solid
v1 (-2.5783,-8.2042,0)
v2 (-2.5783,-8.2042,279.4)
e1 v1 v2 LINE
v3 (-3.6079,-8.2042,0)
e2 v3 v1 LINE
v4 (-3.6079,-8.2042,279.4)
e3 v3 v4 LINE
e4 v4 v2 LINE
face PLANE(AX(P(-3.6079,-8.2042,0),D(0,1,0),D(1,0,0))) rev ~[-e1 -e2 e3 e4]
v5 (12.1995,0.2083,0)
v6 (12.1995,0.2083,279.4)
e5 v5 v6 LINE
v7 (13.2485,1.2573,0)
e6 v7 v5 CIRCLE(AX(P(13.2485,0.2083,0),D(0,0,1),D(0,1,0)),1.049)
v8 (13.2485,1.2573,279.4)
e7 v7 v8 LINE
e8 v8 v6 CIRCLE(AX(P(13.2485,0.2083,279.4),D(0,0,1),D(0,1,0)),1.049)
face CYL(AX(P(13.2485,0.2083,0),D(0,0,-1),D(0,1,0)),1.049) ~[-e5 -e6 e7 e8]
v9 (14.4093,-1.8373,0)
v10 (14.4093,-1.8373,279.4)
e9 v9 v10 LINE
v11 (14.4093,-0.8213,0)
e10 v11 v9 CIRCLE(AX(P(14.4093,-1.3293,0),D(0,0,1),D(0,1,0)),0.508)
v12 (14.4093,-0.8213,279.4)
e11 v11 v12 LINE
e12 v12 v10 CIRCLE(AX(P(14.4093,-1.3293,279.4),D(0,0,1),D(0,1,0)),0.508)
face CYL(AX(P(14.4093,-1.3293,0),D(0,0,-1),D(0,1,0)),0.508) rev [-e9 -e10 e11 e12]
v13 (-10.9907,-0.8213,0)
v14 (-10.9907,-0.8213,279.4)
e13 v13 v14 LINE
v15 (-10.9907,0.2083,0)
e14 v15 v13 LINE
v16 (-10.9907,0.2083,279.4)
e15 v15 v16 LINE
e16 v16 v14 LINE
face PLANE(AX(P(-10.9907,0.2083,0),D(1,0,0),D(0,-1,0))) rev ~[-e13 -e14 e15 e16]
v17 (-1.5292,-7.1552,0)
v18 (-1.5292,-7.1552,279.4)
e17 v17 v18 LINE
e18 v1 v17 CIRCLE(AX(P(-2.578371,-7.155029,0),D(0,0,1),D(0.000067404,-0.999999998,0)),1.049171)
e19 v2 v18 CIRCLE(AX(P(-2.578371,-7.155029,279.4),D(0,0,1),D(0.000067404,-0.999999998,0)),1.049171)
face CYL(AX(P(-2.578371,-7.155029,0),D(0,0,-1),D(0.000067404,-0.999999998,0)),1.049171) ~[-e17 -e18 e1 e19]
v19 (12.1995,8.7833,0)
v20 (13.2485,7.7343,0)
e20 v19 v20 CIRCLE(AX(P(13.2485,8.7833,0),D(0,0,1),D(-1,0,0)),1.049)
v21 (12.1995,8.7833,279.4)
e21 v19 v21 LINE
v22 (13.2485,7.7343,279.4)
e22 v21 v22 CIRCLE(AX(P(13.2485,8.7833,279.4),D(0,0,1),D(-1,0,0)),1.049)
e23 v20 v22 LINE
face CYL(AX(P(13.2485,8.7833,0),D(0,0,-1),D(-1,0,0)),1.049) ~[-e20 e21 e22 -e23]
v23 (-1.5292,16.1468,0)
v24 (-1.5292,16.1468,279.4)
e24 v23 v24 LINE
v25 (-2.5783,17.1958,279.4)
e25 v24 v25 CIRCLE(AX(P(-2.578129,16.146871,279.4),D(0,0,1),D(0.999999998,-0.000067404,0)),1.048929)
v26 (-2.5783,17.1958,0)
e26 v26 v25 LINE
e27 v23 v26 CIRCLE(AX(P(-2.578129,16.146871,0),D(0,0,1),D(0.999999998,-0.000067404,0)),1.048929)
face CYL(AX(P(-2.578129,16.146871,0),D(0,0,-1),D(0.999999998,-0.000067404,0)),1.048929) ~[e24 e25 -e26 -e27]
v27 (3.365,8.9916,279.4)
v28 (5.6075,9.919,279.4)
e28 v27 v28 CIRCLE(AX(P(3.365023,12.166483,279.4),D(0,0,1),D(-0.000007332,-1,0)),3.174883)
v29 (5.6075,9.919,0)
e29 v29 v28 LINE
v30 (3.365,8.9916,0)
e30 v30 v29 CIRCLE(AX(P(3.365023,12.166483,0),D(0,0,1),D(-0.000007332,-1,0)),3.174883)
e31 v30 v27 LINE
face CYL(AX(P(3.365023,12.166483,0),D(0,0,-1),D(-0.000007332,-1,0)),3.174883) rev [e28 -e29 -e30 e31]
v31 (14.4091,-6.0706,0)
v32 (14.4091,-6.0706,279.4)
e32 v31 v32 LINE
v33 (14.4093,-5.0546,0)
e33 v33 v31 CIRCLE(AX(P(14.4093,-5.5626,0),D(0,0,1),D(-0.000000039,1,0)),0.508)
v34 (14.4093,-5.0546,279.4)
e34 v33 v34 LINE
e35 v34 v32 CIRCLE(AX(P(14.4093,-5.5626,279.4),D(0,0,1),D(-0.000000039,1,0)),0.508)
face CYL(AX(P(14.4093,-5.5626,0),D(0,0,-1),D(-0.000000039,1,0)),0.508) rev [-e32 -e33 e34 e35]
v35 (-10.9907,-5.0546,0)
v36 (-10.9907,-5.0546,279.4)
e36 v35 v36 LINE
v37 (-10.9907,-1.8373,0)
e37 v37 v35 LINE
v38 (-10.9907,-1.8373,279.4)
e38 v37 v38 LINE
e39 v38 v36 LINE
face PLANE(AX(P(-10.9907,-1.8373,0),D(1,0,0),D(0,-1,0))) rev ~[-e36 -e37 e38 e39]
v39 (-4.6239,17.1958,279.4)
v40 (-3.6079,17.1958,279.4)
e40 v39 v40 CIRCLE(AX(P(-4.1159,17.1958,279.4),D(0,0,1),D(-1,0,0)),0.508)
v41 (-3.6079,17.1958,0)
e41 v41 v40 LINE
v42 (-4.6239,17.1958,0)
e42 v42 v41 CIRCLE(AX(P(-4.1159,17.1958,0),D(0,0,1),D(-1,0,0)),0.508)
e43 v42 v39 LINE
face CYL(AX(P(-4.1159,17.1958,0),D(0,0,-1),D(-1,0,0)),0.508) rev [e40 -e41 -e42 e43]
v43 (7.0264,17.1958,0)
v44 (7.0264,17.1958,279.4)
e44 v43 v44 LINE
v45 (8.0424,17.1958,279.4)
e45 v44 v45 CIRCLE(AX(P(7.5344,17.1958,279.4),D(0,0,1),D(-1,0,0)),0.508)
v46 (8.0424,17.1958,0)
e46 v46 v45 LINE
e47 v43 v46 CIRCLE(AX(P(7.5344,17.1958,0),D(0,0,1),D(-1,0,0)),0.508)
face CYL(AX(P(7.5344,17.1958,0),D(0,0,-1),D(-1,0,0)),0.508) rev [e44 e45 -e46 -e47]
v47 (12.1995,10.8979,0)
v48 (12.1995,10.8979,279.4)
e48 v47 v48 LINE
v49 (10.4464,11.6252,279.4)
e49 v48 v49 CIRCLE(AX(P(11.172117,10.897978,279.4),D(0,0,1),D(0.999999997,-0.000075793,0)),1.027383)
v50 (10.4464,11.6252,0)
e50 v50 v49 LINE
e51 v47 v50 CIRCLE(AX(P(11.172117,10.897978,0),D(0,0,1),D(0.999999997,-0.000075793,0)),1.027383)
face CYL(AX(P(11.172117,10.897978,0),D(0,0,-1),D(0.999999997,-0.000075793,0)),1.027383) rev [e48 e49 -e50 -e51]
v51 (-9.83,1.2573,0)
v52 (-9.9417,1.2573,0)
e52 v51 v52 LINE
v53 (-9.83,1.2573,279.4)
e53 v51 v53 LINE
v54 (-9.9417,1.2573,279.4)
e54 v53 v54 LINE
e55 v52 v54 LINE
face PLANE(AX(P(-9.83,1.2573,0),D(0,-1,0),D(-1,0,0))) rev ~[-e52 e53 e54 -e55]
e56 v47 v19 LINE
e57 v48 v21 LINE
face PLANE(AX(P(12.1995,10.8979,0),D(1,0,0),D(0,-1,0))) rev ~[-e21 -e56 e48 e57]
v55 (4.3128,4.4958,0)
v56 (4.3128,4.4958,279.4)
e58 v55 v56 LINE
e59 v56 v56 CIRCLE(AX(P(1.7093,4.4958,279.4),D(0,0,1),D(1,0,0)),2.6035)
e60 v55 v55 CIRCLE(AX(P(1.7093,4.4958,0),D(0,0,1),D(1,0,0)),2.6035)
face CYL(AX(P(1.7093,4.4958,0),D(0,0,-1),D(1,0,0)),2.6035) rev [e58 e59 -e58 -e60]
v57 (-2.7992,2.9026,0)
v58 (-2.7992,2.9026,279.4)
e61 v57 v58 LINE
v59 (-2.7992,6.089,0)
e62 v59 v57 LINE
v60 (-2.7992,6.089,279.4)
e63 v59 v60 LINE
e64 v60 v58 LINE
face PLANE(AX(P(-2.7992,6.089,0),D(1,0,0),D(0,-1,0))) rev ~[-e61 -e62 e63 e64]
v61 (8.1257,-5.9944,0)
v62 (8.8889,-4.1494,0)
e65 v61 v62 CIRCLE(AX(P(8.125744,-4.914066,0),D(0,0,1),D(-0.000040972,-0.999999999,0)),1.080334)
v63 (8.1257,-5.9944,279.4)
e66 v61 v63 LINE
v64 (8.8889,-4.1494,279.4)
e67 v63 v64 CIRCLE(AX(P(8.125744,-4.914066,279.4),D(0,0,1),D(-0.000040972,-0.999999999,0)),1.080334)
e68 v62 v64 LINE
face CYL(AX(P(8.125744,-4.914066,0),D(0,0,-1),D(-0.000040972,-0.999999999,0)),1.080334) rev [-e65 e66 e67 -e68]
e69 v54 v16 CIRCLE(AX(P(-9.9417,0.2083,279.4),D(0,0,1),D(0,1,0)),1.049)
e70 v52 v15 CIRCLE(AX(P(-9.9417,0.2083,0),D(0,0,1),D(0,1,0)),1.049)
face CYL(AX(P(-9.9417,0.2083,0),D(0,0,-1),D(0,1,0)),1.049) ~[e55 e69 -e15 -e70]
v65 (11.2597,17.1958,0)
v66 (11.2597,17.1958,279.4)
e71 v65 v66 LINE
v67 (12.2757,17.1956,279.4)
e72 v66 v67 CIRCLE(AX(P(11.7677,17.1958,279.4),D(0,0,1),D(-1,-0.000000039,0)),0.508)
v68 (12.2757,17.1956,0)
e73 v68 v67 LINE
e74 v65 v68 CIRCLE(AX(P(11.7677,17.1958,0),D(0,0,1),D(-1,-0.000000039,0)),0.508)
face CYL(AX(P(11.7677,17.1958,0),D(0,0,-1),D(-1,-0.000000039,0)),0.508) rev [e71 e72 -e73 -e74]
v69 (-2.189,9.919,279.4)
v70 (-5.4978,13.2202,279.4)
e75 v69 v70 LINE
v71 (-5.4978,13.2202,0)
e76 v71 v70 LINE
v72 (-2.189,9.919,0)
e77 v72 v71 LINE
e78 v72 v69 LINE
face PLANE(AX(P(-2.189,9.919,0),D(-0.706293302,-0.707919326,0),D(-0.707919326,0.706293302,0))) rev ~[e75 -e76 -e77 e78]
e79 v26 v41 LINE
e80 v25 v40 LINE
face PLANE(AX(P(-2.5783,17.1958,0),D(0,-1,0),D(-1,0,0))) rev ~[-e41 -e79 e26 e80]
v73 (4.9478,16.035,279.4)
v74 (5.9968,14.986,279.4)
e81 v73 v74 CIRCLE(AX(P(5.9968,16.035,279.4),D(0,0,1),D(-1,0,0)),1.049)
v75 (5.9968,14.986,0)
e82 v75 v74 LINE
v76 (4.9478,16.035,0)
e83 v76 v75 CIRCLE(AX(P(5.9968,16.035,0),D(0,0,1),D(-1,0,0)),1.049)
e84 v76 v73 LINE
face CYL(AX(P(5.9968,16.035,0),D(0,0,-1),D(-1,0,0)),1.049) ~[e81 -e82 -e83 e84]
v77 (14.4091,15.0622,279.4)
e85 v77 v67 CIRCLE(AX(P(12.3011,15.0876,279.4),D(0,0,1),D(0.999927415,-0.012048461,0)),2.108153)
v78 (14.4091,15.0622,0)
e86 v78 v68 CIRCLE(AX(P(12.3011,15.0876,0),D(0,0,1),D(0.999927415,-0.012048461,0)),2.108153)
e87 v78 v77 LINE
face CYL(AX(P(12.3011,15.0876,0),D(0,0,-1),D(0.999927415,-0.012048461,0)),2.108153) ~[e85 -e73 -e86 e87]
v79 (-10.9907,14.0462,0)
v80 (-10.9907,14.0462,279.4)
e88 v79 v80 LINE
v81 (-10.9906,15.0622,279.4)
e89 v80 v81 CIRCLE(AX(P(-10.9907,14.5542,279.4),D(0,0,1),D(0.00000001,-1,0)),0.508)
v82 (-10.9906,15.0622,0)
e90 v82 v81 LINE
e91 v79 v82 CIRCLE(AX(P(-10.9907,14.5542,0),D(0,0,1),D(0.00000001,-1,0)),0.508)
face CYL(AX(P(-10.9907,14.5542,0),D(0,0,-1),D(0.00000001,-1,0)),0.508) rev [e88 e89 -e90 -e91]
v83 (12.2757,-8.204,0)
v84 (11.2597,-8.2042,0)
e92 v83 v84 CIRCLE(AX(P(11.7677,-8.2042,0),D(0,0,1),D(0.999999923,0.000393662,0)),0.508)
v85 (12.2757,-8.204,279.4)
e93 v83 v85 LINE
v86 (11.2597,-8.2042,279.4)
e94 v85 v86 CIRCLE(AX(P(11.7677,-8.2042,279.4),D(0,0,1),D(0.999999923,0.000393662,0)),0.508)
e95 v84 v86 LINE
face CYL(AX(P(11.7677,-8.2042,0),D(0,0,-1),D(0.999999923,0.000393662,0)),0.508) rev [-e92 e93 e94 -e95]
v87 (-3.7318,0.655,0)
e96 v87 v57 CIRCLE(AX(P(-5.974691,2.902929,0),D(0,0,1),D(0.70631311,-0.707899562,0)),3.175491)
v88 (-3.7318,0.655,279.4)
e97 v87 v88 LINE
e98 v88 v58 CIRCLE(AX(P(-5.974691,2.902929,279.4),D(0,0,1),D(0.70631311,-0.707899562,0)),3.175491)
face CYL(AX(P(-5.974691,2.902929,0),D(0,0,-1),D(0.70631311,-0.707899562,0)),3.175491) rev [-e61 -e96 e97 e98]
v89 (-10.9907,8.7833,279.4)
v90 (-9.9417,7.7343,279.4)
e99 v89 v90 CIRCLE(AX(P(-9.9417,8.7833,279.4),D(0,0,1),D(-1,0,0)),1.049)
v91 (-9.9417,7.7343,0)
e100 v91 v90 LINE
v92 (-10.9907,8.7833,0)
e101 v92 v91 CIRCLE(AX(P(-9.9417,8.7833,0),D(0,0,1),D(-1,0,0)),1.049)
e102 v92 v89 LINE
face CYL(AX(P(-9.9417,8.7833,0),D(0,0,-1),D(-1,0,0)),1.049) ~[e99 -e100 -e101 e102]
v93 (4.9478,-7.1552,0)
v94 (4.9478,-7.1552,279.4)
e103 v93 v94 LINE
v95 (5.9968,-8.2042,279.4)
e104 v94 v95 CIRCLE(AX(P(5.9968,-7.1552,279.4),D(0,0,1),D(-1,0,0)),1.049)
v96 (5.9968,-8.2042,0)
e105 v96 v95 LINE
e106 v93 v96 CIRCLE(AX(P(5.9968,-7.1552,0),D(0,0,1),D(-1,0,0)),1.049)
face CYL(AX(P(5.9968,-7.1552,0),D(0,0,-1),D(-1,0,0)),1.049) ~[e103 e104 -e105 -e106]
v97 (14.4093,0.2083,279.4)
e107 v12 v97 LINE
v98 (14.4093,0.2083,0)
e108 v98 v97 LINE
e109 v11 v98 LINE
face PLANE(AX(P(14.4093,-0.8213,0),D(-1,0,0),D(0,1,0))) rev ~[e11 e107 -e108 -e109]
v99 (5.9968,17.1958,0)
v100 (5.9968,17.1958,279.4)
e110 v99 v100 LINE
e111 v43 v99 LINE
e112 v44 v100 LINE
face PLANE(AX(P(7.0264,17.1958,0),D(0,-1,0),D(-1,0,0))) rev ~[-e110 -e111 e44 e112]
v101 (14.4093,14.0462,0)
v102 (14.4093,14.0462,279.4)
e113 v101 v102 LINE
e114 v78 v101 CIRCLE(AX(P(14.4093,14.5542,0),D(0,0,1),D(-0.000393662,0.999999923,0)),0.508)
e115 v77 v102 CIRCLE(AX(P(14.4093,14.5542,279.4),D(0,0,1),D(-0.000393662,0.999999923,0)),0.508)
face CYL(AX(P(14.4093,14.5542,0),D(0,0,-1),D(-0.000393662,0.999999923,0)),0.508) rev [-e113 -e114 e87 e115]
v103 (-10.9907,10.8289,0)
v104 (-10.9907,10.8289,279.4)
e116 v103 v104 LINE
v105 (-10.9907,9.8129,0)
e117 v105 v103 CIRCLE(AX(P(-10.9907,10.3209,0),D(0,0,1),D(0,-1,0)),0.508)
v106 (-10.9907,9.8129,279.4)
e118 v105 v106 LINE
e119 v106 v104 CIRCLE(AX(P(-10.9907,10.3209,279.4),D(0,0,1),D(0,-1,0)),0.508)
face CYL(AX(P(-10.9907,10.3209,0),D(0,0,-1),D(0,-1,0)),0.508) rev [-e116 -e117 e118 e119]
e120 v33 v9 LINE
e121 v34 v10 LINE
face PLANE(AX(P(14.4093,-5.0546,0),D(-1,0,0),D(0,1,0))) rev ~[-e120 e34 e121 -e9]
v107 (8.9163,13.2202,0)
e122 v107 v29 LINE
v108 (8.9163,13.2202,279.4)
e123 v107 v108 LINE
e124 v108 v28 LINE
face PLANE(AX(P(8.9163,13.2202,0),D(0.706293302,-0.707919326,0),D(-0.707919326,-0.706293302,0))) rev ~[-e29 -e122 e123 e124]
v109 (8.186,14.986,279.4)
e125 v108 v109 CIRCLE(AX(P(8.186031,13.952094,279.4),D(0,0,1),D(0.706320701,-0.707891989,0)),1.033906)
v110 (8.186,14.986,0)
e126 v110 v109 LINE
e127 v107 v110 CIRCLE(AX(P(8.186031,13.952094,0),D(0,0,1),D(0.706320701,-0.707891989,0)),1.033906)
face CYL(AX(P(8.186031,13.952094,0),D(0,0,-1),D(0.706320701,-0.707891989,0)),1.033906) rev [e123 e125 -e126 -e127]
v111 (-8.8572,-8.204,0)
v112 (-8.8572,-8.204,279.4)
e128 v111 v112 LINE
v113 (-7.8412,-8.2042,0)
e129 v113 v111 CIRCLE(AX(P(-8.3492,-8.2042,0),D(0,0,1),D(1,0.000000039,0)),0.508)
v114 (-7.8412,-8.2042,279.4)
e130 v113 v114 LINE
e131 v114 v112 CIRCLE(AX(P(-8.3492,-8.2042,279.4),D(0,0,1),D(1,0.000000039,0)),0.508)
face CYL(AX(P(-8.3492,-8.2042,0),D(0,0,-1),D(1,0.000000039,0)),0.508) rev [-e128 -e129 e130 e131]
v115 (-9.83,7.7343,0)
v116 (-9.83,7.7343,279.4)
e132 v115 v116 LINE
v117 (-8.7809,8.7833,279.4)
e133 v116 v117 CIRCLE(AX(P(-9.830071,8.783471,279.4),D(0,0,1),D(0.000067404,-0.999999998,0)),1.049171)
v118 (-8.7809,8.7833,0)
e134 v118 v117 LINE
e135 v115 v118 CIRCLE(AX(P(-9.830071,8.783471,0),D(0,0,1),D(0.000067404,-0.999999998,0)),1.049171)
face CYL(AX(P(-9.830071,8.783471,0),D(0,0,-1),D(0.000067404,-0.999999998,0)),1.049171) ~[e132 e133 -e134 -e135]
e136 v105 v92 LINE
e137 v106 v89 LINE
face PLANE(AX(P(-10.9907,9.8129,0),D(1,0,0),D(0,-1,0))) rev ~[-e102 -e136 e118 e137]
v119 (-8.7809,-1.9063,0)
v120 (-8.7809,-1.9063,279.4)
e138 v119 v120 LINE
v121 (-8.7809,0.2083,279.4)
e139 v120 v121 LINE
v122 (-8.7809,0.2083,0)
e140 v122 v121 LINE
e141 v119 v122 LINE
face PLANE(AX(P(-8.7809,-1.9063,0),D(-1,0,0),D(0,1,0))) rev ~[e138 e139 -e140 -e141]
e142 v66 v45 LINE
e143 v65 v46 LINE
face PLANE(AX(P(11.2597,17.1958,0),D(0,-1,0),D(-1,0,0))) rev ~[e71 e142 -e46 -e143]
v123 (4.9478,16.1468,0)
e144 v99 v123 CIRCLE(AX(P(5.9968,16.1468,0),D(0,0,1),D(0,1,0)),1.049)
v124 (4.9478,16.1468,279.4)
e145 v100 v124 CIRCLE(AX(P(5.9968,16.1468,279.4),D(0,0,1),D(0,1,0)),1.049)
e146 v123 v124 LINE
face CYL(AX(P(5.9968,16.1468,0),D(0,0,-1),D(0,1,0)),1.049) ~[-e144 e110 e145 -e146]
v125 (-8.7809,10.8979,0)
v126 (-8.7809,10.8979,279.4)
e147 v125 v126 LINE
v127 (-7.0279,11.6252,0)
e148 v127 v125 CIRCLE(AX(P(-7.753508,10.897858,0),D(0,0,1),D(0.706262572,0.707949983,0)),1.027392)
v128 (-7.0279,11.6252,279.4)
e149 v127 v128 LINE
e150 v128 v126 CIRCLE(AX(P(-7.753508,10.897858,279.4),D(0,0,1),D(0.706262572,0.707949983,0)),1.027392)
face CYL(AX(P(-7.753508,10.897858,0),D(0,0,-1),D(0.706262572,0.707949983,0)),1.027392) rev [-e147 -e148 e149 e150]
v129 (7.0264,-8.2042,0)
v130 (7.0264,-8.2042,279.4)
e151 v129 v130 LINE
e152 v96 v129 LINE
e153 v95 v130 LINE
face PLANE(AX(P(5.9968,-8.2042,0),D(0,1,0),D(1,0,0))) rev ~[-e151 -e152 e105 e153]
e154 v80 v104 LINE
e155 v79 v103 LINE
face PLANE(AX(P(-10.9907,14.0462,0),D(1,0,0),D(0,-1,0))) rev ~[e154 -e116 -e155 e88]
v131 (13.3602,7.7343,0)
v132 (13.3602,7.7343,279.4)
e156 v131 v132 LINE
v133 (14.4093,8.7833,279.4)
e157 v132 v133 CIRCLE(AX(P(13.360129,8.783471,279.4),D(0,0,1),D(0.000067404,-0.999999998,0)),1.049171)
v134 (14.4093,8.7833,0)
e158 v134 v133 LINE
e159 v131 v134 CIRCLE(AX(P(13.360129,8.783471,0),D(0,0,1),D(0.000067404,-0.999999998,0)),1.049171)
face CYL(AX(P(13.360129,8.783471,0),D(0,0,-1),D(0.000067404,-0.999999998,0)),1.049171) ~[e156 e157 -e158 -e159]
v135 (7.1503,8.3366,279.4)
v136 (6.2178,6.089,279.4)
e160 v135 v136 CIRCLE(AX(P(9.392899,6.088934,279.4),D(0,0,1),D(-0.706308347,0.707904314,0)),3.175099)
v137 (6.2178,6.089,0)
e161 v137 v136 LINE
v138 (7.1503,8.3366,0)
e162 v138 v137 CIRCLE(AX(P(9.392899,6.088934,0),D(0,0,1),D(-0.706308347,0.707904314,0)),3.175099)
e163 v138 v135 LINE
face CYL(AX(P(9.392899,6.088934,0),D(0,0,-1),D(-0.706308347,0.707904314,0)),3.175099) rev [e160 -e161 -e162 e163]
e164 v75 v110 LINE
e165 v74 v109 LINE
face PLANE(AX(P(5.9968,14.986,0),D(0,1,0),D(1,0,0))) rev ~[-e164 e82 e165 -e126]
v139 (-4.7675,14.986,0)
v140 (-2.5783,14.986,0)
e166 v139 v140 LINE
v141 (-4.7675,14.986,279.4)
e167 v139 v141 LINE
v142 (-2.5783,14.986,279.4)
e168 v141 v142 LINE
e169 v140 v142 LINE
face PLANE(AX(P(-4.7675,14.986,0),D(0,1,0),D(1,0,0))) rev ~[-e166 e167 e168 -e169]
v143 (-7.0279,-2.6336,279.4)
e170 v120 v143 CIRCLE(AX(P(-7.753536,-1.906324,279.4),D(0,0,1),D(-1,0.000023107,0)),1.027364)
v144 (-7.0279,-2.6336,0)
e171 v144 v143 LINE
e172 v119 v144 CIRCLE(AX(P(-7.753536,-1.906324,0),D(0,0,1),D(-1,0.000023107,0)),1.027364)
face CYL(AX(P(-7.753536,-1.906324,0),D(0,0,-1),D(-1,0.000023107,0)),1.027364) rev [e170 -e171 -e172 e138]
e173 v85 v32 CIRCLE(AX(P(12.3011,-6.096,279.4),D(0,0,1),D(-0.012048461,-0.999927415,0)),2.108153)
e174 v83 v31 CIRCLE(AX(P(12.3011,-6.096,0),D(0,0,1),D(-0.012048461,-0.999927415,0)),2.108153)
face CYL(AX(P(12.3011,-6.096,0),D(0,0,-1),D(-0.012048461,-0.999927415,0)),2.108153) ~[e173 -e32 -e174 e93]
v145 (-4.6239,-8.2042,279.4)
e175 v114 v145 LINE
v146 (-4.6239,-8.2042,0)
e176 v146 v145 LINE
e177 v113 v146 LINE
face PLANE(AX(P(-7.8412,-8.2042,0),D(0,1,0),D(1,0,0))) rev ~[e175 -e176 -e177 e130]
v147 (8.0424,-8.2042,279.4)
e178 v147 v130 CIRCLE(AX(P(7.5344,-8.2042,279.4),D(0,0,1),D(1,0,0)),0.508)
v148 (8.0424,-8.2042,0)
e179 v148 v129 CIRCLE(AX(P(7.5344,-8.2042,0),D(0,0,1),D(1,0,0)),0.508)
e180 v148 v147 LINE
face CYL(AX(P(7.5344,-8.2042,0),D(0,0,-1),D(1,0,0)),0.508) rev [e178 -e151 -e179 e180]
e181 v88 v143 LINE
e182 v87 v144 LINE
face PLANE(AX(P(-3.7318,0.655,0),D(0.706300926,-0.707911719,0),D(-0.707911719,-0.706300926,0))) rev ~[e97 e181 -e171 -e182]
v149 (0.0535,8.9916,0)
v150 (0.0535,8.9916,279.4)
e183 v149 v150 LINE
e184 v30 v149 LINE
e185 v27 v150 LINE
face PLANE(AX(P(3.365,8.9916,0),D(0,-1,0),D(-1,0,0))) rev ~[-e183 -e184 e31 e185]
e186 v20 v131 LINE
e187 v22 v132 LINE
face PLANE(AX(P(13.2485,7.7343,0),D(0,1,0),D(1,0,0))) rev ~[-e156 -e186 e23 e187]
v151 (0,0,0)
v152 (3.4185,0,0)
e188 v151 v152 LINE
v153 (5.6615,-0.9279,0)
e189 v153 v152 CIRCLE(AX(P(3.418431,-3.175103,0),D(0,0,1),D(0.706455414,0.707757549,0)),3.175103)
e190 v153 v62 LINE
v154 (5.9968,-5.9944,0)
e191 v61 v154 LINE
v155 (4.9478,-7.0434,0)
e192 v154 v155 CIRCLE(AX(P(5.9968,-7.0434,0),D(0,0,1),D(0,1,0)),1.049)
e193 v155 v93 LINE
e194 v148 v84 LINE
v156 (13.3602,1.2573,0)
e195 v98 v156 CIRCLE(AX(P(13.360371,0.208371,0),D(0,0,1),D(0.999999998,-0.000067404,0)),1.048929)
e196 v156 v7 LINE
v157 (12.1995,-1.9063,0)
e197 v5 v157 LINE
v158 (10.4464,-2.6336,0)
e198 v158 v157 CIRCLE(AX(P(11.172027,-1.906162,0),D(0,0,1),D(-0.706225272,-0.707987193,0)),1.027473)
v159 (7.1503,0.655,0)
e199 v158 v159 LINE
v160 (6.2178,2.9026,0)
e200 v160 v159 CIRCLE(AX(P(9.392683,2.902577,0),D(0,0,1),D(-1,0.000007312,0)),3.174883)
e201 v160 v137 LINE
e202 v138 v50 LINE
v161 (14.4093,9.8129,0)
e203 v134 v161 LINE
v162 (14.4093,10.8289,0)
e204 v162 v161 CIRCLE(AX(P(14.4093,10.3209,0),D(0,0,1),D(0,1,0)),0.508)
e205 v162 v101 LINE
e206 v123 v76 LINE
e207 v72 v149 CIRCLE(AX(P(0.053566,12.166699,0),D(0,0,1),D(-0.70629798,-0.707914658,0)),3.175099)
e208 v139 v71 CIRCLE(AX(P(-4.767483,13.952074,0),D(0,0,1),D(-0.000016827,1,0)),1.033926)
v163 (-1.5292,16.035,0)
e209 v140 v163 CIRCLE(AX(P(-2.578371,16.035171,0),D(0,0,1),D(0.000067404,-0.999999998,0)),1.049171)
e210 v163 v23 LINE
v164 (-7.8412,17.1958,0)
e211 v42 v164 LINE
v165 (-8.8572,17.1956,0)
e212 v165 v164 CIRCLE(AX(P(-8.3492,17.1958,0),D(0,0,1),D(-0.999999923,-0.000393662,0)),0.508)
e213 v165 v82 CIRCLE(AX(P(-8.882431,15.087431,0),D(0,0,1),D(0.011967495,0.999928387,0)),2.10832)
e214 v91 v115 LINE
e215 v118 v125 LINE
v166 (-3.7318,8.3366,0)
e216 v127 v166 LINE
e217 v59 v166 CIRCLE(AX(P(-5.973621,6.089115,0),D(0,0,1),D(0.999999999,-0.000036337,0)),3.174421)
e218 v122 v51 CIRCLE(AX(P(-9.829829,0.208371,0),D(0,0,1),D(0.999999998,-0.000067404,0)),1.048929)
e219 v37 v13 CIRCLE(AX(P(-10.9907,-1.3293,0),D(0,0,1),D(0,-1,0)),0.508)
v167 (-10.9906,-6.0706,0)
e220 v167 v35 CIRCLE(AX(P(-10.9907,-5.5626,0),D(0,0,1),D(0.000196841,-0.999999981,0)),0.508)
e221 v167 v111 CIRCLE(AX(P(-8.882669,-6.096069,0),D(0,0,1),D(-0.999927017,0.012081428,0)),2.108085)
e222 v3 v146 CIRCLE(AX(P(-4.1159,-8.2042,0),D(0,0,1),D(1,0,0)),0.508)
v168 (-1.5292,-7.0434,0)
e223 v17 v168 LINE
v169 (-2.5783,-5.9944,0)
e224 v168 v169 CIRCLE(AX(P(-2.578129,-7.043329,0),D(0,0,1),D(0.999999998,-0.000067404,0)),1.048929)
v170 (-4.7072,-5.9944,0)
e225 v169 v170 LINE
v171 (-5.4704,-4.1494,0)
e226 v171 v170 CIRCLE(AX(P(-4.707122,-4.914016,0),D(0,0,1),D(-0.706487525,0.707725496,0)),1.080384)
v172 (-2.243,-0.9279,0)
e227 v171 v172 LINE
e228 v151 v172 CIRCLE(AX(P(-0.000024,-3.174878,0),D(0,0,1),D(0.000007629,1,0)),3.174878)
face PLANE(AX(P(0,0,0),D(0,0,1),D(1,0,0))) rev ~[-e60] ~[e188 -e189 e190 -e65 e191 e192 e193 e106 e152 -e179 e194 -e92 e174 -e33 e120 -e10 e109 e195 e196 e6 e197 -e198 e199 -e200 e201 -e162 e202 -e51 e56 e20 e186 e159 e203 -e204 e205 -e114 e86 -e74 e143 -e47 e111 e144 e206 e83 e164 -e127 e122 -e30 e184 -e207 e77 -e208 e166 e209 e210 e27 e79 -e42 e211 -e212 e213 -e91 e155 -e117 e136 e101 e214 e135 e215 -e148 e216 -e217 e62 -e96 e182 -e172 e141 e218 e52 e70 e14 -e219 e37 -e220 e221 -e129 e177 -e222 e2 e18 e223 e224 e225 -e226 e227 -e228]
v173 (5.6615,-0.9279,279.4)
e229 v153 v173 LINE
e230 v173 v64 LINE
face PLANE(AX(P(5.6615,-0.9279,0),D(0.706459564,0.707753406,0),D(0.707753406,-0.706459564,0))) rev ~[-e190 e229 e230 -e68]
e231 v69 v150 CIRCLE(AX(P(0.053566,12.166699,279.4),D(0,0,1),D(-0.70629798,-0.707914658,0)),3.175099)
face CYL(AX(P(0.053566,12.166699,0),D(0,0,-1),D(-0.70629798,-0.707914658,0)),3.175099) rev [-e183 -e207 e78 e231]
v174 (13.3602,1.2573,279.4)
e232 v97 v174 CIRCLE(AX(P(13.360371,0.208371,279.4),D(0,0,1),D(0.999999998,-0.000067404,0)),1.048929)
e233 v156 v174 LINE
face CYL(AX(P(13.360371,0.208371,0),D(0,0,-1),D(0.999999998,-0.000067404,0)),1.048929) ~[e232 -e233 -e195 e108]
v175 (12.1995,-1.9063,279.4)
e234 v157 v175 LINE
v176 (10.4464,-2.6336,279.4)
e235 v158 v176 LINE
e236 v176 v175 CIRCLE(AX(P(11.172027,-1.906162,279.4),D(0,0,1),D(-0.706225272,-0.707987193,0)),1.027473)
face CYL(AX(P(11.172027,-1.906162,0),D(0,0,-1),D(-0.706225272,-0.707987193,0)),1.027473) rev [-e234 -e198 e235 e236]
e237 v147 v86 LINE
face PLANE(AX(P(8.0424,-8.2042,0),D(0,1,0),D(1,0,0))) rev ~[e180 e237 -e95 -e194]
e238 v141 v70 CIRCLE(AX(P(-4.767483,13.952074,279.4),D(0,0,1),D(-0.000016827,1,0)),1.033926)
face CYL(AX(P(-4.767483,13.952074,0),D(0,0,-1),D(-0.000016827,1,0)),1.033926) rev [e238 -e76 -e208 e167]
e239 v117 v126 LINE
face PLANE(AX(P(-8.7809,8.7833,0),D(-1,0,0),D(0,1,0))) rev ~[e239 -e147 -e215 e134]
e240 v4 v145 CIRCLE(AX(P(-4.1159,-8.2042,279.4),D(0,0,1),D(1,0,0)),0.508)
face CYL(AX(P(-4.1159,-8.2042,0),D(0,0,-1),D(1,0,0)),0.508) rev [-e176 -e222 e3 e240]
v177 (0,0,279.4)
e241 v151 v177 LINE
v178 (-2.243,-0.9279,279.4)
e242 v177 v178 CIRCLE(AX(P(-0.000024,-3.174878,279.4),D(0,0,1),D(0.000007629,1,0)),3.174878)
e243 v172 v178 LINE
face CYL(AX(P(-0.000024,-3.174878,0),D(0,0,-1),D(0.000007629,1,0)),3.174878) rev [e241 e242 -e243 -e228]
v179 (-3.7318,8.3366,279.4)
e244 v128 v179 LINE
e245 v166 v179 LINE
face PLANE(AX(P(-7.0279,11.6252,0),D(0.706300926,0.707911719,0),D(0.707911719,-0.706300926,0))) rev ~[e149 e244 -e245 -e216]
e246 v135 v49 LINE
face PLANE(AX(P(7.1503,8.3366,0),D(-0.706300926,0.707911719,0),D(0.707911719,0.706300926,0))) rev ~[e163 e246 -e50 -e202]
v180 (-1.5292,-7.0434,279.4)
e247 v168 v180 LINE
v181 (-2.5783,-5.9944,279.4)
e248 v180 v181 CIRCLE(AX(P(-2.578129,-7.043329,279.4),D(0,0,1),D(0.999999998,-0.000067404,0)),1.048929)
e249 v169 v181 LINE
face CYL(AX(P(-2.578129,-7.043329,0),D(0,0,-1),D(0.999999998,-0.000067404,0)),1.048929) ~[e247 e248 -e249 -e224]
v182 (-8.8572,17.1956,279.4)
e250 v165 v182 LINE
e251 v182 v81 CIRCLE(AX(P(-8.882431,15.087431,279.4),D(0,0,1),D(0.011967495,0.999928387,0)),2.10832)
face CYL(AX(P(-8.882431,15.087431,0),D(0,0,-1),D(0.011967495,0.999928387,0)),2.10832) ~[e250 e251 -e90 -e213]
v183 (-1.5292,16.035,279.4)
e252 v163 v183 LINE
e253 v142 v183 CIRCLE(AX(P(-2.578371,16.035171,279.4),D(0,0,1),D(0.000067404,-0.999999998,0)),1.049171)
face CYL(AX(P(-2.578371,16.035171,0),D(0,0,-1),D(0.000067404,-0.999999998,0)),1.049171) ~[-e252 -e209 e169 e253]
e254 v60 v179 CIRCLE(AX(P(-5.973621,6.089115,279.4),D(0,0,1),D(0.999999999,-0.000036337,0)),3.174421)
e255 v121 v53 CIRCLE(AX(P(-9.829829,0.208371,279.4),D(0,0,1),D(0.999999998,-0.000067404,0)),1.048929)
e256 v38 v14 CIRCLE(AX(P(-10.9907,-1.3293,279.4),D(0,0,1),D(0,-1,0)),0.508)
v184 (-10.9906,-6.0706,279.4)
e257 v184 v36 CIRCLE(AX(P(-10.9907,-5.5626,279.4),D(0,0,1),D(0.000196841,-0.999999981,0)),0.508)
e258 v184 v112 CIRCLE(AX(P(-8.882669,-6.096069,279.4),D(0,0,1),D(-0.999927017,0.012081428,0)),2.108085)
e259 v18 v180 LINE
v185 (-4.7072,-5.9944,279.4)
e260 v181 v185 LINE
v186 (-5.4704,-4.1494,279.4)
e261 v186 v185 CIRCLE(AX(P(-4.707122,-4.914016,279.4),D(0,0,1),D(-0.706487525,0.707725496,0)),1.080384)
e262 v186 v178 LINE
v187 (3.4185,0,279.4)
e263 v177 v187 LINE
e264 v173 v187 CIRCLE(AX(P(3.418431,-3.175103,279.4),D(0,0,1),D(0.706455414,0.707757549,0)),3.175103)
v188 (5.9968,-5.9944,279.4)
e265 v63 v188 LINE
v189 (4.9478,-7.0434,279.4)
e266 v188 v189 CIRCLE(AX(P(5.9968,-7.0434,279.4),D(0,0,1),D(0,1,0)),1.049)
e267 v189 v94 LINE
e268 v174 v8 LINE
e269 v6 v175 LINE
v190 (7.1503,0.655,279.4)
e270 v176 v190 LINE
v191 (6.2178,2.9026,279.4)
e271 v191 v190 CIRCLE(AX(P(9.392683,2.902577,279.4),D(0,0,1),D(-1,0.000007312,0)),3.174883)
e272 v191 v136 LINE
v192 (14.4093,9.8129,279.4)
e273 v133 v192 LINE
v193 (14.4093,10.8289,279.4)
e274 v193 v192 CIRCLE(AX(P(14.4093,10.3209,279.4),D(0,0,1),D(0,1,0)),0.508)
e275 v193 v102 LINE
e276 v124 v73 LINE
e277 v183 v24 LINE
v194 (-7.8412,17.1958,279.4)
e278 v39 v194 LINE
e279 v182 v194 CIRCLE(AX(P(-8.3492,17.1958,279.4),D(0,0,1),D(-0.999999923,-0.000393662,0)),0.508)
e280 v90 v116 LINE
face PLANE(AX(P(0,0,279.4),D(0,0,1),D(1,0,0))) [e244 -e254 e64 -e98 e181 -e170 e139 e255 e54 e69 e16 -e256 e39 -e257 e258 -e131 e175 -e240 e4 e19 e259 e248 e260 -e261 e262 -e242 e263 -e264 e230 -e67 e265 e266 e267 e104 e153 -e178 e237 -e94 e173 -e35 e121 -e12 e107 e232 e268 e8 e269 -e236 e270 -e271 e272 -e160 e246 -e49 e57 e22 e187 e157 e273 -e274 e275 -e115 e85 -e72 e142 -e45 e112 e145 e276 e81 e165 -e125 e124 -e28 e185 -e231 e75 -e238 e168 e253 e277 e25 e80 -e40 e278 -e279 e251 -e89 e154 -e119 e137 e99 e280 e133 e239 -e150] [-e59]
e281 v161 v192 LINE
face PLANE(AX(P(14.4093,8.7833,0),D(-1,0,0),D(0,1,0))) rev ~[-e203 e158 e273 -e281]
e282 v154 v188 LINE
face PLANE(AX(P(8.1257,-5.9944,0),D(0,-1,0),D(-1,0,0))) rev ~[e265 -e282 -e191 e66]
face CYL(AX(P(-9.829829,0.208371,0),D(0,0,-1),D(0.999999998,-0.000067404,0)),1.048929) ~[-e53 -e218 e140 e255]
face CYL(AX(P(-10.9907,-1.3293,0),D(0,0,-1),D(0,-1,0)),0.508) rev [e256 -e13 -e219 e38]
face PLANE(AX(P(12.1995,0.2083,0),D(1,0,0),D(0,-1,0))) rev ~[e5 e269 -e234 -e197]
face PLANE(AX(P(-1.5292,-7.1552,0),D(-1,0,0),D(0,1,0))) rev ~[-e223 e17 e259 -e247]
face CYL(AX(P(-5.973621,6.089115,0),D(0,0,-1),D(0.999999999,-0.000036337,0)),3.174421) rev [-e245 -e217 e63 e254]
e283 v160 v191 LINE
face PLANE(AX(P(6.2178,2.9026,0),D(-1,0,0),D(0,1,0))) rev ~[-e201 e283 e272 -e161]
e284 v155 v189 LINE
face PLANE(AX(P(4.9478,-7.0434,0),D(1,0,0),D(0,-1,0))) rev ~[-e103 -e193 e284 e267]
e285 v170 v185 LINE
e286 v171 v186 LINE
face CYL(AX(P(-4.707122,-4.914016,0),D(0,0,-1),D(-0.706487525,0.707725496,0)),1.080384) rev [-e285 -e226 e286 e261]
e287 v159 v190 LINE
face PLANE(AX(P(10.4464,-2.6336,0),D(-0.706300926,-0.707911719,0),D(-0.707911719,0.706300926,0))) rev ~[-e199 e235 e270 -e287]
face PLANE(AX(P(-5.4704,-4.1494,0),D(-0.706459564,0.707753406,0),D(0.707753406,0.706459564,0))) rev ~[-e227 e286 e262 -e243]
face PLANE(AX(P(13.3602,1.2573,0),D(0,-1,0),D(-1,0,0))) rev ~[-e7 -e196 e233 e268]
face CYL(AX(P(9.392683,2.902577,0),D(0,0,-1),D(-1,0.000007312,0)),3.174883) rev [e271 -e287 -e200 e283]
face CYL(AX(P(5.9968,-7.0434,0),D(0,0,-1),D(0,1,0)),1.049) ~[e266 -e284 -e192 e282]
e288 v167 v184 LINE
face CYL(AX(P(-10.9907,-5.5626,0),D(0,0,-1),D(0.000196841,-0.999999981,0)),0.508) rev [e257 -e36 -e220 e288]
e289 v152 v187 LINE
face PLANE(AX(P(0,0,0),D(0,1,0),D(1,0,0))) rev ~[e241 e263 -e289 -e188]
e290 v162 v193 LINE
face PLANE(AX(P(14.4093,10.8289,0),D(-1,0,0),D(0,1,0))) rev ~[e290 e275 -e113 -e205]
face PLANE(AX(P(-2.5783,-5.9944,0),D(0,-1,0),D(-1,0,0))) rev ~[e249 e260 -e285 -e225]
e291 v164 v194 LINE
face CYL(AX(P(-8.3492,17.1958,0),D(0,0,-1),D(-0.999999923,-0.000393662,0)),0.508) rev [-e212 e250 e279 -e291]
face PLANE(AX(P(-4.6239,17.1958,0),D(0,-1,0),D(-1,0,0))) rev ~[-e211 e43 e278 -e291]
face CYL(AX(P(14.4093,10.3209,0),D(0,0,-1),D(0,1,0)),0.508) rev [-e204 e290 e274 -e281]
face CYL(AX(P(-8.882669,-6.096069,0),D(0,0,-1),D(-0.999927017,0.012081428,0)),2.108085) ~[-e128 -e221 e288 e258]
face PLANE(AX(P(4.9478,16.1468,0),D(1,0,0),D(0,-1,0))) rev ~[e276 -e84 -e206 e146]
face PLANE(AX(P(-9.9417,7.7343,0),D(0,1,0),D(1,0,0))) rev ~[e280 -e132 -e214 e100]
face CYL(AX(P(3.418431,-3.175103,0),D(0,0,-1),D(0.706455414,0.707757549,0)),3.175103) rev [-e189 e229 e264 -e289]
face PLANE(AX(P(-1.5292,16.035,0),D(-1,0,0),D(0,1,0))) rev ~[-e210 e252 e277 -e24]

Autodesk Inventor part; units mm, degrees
ref_plane "YZ Plane" through (0, 0, 0) normal (1, 0, 0) x (0, 1, 0)
ref_plane "XZ Plane" through (0, 0, 0) normal (0, 1, 0) x (-1, 0, 0)
ref_plane "XY Plane" through (0, 0, 0) normal (0, 0, 1) x (1, 0, 0)
sketch "Sketch1" plane through (0, 0, 0) normal (0, 0, 1) x (1, 0, 0)
  arc A0 (-5.4704, -4.1494) -> (-4.7072, -5.9944) centre (-4.7072, -4.914) ccw
  line L0 (-5.4704, -4.1494) -> (-2.243, -0.9279)
  arc A1 (0, 0) -> (-2.243, -0.9279) centre (0, -3.175) ccw
  line L1 (0, 0) -> (3.4185, 0)
  arc A2 (5.6615, -0.9279) -> (3.4185, 0) centre (3.4185, -3.175) ccw
  line L2 (5.6615, -0.9279) -> (8.8889, -4.1494)
  arc A3 (8.1257, -5.9944) -> (8.8889, -4.1494) centre (8.1257, -4.914) ccw
  line L3 (8.1257, -5.9944) -> (5.9968, -5.9944)
  arc A4 (5.9968, -5.9944) -> (4.9478, -7.0434) centre (5.9968, -7.0434) ccw
  line L4 (4.9478, -7.0434) -> (4.9478, -7.1552)
  arc A5 (4.9478, -7.1552) -> (5.9968, -8.2042) centre (5.9968, -7.1552) ccw
  line L5 (5.9968, -8.2042) -> (7.0264, -8.2042)
  arc A6 (8.0424, -8.2042) -> (7.0264, -8.2042) centre (7.5344, -8.2042) ccw
  line L6 (8.0424, -8.2042) -> (11.2597, -8.2042)
  arc A7 (12.2757, -8.204) -> (11.2597, -8.2042) centre (11.7677, -8.2042) ccw
  arc A8 (12.2757, -8.204) -> (14.4091, -6.0706) centre (12.3011, -6.096) ccw
  arc A9 (14.4093, -5.0546) -> (14.4091, -6.0706) centre (14.4093, -5.5626) ccw
  line L7 (14.4093, -5.0546) -> (14.4093, -1.8373)
  arc A10 (14.4093, -0.8213) -> (14.4093, -1.8373) centre (14.4093, -1.3293) ccw
  line L8 (14.4093, -0.8213) -> (14.4093, 0.2083)
  arc A11 (14.4093, 0.2083) -> (13.3602, 1.2573) centre (13.3602, 0.2083) ccw
  line L9 (13.3602, 1.2573) -> (13.2485, 1.2573)
  arc A12 (13.2485, 1.2573) -> (12.1995, 0.2083) centre (13.2485, 0.2083) ccw
  line L10 (12.1995, 0.2083) -> (12.1995, -1.9063)
  arc A13 (10.4464, -2.6336) -> (12.1995, -1.9063) centre (11.172, -1.9063) ccw
  line L11 (10.4464, -2.6336) -> (7.1503, 0.655)
  arc A14 (6.2178, 2.9026) -> (7.1503, 0.655) centre (9.3928, 2.9026) ccw
  line L12 (6.2178, 2.9026) -> (6.2178, 6.089)
  arc A15 (7.1503, 8.3366) -> (6.2178, 6.089) centre (9.3928, 6.089) ccw
  line L13 (7.1503, 8.3366) -> (10.4464, 11.6252)
  arc A16 (12.1995, 10.8979) -> (10.4464, 11.6252) centre (11.172, 10.8979) ccw
  line L14 (12.1995, 10.8979) -> (12.1995, 8.7833)
  arc A17 (12.1995, 8.7833) -> (13.2485, 7.7343) centre (13.2485, 8.7833) ccw
  line L15 (13.2485, 7.7343) -> (13.3602, 7.7343)
  arc A18 (13.3602, 7.7343) -> (14.4093, 8.7833) centre (13.3602, 8.7833) ccw
  line L16 (14.4093, 8.7833) -> (14.4093, 9.8129)
  arc A19 (14.4093, 10.8289) -> (14.4093, 9.8129) centre (14.4093, 10.3209) ccw
  line L17 (14.4093, 10.8289) -> (14.4093, 14.0462)
  arc A20 (14.4091, 15.0622) -> (14.4093, 14.0462) centre (14.4093, 14.5542) ccw
  arc A21 (14.4091, 15.0622) -> (12.2757, 17.1956) centre (12.3011, 15.0876) ccw
  arc A22 (11.2597, 17.1958) -> (12.2757, 17.1956) centre (11.7677, 17.1958) ccw
  line L18 (11.2597, 17.1958) -> (8.0424, 17.1958)
  arc A23 (7.0264, 17.1958) -> (8.0424, 17.1958) centre (7.5344, 17.1958) ccw
  line L19 (7.0264, 17.1958) -> (5.9968, 17.1958)
  arc A24 (5.9968, 17.1958) -> (4.9478, 16.1468) centre (5.9968, 16.1468) ccw
  line L20 (4.9478, 16.1468) -> (4.9478, 16.035)
  arc A25 (4.9478, 16.035) -> (5.9968, 14.986) centre (5.9968, 16.035) ccw
  line L21 (5.9968, 14.986) -> (8.186, 14.986)
  arc A26 (8.9163, 13.2202) -> (8.186, 14.986) centre (8.186, 13.9521) ccw
  line L22 (8.9163, 13.2202) -> (5.6075, 9.919)
  arc A27 (3.365, 8.9916) -> (5.6075, 9.919) centre (3.365, 12.1666) ccw
  line L23 (3.365, 8.9916) -> (0.0535, 8.9916)
  arc A28 (-2.189, 9.919) -> (0.0535, 8.9916) centre (0.0535, 12.1666) ccw
  line L24 (-2.189, 9.919) -> (-5.4978, 13.2202)
  arc A29 (-4.7675, 14.986) -> (-5.4978, 13.2202) centre (-4.7675, 13.9521) ccw
  line L25 (-4.7675, 14.986) -> (-2.5783, 14.986)
  arc A30 (-2.5783, 14.986) -> (-1.5292, 16.035) centre (-2.5783, 16.035) ccw
  line L26 (-1.5292, 16.035) -> (-1.5292, 16.1468)
  arc A31 (-1.5292, 16.1468) -> (-2.5783, 17.1958) centre (-2.5783, 16.1468) ccw
  line L27 (-2.5783, 17.1958) -> (-3.6079, 17.1958)
  arc A32 (-4.6239, 17.1958) -> (-3.6079, 17.1958) centre (-4.1159, 17.1958) ccw
  line L28 (-4.6239, 17.1958) -> (-7.8412, 17.1958)
  arc A33 (-8.8572, 17.1956) -> (-7.8412, 17.1958) centre (-8.3492, 17.1958) ccw
  arc A34 (-8.8572, 17.1956) -> (-10.9906, 15.0622) centre (-8.8825, 15.0876) ccw
  arc A35 (-10.9907, 14.0462) -> (-10.9906, 15.0622) centre (-10.9907, 14.5542) ccw
  line L29 (-10.9907, 14.0462) -> (-10.9907, 10.8289)
  arc A36 (-10.9907, 9.8129) -> (-10.9907, 10.8289) centre (-10.9907, 10.3209) ccw
  line L30 (-10.9907, 9.8129) -> (-10.9907, 8.7833)
  arc A37 (-10.9907, 8.7833) -> (-9.9417, 7.7343) centre (-9.9417, 8.7833) ccw
  line L31 (-9.9417, 7.7343) -> (-9.83, 7.7343)
  arc A38 (-9.83, 7.7343) -> (-8.7809, 8.7833) centre (-9.83, 8.7833) ccw
  line L32 (-8.7809, 8.7833) -> (-8.7809, 10.8979)
  arc A39 (-7.0279, 11.6252) -> (-8.7809, 10.8979) centre (-7.7535, 10.8979) ccw
  line L33 (-7.0279, 11.6252) -> (-3.7318, 8.3366)
  arc A40 (-2.7992, 6.089) -> (-3.7318, 8.3366) centre (-5.9742, 6.089) ccw
  line L34 (-2.7992, 6.089) -> (-2.7992, 2.9026)
  arc A41 (-3.7318, 0.655) -> (-2.7992, 2.9026) centre (-5.9742, 2.9026) ccw
  line L35 (-3.7318, 0.655) -> (-7.0279, -2.6336)
  arc A42 (-8.7809, -1.9063) -> (-7.0279, -2.6336) centre (-7.7535, -1.9063) ccw
  line L36 (-8.7809, -1.9063) -> (-8.7809, 0.2083)
  arc A43 (-8.7809, 0.2083) -> (-9.83, 1.2573) centre (-9.83, 0.2083) ccw
  line L37 (-9.83, 1.2573) -> (-9.9417, 1.2573)
  arc A44 (-9.9417, 1.2573) -> (-10.9907, 0.2083) centre (-9.9417, 0.2083) ccw
  line L38 (-10.9907, 0.2083) -> (-10.9907, -0.8213)
  arc A45 (-10.9907, -1.8373) -> (-10.9907, -0.8213) centre (-10.9907, -1.3293) ccw
  line L39 (-10.9907, -1.8373) -> (-10.9907, -5.0546)
  arc A46 (-10.9906, -6.0706) -> (-10.9907, -5.0546) centre (-10.9907, -5.5626) ccw
  arc A47 (-10.9906, -6.0706) -> (-8.8572, -8.204) centre (-8.8825, -6.096) ccw
  arc A48 (-7.8412, -8.2042) -> (-8.8572, -8.204) centre (-8.3492, -8.2042) ccw
  line L40 (-7.8412, -8.2042) -> (-4.6239, -8.2042)
  arc A49 (-3.6079, -8.2042) -> (-4.6239, -8.2042) centre (-4.1159, -8.2042) ccw
  line L41 (-3.6079, -8.2042) -> (-2.5783, -8.2042)
  arc A50 (-2.5783, -8.2042) -> (-1.5292, -7.1552) centre (-2.5783, -7.1552) ccw
  line L42 (-1.5292, -7.1552) -> (-1.5292, -7.0434)
  arc A51 (-1.5292, -7.0434) -> (-2.5783, -5.9944) centre (-2.5783, -7.0434) ccw
  line L43 (-2.5783, -5.9944) -> (-4.7072, -5.9944)
  circle A52 centre (1.7093, 4.4958) radius 2.6035
extrude "Extrusion1" add sketch "Sketch1" along normal blind 279.4
properties part number "11in 1x1 T slot"
